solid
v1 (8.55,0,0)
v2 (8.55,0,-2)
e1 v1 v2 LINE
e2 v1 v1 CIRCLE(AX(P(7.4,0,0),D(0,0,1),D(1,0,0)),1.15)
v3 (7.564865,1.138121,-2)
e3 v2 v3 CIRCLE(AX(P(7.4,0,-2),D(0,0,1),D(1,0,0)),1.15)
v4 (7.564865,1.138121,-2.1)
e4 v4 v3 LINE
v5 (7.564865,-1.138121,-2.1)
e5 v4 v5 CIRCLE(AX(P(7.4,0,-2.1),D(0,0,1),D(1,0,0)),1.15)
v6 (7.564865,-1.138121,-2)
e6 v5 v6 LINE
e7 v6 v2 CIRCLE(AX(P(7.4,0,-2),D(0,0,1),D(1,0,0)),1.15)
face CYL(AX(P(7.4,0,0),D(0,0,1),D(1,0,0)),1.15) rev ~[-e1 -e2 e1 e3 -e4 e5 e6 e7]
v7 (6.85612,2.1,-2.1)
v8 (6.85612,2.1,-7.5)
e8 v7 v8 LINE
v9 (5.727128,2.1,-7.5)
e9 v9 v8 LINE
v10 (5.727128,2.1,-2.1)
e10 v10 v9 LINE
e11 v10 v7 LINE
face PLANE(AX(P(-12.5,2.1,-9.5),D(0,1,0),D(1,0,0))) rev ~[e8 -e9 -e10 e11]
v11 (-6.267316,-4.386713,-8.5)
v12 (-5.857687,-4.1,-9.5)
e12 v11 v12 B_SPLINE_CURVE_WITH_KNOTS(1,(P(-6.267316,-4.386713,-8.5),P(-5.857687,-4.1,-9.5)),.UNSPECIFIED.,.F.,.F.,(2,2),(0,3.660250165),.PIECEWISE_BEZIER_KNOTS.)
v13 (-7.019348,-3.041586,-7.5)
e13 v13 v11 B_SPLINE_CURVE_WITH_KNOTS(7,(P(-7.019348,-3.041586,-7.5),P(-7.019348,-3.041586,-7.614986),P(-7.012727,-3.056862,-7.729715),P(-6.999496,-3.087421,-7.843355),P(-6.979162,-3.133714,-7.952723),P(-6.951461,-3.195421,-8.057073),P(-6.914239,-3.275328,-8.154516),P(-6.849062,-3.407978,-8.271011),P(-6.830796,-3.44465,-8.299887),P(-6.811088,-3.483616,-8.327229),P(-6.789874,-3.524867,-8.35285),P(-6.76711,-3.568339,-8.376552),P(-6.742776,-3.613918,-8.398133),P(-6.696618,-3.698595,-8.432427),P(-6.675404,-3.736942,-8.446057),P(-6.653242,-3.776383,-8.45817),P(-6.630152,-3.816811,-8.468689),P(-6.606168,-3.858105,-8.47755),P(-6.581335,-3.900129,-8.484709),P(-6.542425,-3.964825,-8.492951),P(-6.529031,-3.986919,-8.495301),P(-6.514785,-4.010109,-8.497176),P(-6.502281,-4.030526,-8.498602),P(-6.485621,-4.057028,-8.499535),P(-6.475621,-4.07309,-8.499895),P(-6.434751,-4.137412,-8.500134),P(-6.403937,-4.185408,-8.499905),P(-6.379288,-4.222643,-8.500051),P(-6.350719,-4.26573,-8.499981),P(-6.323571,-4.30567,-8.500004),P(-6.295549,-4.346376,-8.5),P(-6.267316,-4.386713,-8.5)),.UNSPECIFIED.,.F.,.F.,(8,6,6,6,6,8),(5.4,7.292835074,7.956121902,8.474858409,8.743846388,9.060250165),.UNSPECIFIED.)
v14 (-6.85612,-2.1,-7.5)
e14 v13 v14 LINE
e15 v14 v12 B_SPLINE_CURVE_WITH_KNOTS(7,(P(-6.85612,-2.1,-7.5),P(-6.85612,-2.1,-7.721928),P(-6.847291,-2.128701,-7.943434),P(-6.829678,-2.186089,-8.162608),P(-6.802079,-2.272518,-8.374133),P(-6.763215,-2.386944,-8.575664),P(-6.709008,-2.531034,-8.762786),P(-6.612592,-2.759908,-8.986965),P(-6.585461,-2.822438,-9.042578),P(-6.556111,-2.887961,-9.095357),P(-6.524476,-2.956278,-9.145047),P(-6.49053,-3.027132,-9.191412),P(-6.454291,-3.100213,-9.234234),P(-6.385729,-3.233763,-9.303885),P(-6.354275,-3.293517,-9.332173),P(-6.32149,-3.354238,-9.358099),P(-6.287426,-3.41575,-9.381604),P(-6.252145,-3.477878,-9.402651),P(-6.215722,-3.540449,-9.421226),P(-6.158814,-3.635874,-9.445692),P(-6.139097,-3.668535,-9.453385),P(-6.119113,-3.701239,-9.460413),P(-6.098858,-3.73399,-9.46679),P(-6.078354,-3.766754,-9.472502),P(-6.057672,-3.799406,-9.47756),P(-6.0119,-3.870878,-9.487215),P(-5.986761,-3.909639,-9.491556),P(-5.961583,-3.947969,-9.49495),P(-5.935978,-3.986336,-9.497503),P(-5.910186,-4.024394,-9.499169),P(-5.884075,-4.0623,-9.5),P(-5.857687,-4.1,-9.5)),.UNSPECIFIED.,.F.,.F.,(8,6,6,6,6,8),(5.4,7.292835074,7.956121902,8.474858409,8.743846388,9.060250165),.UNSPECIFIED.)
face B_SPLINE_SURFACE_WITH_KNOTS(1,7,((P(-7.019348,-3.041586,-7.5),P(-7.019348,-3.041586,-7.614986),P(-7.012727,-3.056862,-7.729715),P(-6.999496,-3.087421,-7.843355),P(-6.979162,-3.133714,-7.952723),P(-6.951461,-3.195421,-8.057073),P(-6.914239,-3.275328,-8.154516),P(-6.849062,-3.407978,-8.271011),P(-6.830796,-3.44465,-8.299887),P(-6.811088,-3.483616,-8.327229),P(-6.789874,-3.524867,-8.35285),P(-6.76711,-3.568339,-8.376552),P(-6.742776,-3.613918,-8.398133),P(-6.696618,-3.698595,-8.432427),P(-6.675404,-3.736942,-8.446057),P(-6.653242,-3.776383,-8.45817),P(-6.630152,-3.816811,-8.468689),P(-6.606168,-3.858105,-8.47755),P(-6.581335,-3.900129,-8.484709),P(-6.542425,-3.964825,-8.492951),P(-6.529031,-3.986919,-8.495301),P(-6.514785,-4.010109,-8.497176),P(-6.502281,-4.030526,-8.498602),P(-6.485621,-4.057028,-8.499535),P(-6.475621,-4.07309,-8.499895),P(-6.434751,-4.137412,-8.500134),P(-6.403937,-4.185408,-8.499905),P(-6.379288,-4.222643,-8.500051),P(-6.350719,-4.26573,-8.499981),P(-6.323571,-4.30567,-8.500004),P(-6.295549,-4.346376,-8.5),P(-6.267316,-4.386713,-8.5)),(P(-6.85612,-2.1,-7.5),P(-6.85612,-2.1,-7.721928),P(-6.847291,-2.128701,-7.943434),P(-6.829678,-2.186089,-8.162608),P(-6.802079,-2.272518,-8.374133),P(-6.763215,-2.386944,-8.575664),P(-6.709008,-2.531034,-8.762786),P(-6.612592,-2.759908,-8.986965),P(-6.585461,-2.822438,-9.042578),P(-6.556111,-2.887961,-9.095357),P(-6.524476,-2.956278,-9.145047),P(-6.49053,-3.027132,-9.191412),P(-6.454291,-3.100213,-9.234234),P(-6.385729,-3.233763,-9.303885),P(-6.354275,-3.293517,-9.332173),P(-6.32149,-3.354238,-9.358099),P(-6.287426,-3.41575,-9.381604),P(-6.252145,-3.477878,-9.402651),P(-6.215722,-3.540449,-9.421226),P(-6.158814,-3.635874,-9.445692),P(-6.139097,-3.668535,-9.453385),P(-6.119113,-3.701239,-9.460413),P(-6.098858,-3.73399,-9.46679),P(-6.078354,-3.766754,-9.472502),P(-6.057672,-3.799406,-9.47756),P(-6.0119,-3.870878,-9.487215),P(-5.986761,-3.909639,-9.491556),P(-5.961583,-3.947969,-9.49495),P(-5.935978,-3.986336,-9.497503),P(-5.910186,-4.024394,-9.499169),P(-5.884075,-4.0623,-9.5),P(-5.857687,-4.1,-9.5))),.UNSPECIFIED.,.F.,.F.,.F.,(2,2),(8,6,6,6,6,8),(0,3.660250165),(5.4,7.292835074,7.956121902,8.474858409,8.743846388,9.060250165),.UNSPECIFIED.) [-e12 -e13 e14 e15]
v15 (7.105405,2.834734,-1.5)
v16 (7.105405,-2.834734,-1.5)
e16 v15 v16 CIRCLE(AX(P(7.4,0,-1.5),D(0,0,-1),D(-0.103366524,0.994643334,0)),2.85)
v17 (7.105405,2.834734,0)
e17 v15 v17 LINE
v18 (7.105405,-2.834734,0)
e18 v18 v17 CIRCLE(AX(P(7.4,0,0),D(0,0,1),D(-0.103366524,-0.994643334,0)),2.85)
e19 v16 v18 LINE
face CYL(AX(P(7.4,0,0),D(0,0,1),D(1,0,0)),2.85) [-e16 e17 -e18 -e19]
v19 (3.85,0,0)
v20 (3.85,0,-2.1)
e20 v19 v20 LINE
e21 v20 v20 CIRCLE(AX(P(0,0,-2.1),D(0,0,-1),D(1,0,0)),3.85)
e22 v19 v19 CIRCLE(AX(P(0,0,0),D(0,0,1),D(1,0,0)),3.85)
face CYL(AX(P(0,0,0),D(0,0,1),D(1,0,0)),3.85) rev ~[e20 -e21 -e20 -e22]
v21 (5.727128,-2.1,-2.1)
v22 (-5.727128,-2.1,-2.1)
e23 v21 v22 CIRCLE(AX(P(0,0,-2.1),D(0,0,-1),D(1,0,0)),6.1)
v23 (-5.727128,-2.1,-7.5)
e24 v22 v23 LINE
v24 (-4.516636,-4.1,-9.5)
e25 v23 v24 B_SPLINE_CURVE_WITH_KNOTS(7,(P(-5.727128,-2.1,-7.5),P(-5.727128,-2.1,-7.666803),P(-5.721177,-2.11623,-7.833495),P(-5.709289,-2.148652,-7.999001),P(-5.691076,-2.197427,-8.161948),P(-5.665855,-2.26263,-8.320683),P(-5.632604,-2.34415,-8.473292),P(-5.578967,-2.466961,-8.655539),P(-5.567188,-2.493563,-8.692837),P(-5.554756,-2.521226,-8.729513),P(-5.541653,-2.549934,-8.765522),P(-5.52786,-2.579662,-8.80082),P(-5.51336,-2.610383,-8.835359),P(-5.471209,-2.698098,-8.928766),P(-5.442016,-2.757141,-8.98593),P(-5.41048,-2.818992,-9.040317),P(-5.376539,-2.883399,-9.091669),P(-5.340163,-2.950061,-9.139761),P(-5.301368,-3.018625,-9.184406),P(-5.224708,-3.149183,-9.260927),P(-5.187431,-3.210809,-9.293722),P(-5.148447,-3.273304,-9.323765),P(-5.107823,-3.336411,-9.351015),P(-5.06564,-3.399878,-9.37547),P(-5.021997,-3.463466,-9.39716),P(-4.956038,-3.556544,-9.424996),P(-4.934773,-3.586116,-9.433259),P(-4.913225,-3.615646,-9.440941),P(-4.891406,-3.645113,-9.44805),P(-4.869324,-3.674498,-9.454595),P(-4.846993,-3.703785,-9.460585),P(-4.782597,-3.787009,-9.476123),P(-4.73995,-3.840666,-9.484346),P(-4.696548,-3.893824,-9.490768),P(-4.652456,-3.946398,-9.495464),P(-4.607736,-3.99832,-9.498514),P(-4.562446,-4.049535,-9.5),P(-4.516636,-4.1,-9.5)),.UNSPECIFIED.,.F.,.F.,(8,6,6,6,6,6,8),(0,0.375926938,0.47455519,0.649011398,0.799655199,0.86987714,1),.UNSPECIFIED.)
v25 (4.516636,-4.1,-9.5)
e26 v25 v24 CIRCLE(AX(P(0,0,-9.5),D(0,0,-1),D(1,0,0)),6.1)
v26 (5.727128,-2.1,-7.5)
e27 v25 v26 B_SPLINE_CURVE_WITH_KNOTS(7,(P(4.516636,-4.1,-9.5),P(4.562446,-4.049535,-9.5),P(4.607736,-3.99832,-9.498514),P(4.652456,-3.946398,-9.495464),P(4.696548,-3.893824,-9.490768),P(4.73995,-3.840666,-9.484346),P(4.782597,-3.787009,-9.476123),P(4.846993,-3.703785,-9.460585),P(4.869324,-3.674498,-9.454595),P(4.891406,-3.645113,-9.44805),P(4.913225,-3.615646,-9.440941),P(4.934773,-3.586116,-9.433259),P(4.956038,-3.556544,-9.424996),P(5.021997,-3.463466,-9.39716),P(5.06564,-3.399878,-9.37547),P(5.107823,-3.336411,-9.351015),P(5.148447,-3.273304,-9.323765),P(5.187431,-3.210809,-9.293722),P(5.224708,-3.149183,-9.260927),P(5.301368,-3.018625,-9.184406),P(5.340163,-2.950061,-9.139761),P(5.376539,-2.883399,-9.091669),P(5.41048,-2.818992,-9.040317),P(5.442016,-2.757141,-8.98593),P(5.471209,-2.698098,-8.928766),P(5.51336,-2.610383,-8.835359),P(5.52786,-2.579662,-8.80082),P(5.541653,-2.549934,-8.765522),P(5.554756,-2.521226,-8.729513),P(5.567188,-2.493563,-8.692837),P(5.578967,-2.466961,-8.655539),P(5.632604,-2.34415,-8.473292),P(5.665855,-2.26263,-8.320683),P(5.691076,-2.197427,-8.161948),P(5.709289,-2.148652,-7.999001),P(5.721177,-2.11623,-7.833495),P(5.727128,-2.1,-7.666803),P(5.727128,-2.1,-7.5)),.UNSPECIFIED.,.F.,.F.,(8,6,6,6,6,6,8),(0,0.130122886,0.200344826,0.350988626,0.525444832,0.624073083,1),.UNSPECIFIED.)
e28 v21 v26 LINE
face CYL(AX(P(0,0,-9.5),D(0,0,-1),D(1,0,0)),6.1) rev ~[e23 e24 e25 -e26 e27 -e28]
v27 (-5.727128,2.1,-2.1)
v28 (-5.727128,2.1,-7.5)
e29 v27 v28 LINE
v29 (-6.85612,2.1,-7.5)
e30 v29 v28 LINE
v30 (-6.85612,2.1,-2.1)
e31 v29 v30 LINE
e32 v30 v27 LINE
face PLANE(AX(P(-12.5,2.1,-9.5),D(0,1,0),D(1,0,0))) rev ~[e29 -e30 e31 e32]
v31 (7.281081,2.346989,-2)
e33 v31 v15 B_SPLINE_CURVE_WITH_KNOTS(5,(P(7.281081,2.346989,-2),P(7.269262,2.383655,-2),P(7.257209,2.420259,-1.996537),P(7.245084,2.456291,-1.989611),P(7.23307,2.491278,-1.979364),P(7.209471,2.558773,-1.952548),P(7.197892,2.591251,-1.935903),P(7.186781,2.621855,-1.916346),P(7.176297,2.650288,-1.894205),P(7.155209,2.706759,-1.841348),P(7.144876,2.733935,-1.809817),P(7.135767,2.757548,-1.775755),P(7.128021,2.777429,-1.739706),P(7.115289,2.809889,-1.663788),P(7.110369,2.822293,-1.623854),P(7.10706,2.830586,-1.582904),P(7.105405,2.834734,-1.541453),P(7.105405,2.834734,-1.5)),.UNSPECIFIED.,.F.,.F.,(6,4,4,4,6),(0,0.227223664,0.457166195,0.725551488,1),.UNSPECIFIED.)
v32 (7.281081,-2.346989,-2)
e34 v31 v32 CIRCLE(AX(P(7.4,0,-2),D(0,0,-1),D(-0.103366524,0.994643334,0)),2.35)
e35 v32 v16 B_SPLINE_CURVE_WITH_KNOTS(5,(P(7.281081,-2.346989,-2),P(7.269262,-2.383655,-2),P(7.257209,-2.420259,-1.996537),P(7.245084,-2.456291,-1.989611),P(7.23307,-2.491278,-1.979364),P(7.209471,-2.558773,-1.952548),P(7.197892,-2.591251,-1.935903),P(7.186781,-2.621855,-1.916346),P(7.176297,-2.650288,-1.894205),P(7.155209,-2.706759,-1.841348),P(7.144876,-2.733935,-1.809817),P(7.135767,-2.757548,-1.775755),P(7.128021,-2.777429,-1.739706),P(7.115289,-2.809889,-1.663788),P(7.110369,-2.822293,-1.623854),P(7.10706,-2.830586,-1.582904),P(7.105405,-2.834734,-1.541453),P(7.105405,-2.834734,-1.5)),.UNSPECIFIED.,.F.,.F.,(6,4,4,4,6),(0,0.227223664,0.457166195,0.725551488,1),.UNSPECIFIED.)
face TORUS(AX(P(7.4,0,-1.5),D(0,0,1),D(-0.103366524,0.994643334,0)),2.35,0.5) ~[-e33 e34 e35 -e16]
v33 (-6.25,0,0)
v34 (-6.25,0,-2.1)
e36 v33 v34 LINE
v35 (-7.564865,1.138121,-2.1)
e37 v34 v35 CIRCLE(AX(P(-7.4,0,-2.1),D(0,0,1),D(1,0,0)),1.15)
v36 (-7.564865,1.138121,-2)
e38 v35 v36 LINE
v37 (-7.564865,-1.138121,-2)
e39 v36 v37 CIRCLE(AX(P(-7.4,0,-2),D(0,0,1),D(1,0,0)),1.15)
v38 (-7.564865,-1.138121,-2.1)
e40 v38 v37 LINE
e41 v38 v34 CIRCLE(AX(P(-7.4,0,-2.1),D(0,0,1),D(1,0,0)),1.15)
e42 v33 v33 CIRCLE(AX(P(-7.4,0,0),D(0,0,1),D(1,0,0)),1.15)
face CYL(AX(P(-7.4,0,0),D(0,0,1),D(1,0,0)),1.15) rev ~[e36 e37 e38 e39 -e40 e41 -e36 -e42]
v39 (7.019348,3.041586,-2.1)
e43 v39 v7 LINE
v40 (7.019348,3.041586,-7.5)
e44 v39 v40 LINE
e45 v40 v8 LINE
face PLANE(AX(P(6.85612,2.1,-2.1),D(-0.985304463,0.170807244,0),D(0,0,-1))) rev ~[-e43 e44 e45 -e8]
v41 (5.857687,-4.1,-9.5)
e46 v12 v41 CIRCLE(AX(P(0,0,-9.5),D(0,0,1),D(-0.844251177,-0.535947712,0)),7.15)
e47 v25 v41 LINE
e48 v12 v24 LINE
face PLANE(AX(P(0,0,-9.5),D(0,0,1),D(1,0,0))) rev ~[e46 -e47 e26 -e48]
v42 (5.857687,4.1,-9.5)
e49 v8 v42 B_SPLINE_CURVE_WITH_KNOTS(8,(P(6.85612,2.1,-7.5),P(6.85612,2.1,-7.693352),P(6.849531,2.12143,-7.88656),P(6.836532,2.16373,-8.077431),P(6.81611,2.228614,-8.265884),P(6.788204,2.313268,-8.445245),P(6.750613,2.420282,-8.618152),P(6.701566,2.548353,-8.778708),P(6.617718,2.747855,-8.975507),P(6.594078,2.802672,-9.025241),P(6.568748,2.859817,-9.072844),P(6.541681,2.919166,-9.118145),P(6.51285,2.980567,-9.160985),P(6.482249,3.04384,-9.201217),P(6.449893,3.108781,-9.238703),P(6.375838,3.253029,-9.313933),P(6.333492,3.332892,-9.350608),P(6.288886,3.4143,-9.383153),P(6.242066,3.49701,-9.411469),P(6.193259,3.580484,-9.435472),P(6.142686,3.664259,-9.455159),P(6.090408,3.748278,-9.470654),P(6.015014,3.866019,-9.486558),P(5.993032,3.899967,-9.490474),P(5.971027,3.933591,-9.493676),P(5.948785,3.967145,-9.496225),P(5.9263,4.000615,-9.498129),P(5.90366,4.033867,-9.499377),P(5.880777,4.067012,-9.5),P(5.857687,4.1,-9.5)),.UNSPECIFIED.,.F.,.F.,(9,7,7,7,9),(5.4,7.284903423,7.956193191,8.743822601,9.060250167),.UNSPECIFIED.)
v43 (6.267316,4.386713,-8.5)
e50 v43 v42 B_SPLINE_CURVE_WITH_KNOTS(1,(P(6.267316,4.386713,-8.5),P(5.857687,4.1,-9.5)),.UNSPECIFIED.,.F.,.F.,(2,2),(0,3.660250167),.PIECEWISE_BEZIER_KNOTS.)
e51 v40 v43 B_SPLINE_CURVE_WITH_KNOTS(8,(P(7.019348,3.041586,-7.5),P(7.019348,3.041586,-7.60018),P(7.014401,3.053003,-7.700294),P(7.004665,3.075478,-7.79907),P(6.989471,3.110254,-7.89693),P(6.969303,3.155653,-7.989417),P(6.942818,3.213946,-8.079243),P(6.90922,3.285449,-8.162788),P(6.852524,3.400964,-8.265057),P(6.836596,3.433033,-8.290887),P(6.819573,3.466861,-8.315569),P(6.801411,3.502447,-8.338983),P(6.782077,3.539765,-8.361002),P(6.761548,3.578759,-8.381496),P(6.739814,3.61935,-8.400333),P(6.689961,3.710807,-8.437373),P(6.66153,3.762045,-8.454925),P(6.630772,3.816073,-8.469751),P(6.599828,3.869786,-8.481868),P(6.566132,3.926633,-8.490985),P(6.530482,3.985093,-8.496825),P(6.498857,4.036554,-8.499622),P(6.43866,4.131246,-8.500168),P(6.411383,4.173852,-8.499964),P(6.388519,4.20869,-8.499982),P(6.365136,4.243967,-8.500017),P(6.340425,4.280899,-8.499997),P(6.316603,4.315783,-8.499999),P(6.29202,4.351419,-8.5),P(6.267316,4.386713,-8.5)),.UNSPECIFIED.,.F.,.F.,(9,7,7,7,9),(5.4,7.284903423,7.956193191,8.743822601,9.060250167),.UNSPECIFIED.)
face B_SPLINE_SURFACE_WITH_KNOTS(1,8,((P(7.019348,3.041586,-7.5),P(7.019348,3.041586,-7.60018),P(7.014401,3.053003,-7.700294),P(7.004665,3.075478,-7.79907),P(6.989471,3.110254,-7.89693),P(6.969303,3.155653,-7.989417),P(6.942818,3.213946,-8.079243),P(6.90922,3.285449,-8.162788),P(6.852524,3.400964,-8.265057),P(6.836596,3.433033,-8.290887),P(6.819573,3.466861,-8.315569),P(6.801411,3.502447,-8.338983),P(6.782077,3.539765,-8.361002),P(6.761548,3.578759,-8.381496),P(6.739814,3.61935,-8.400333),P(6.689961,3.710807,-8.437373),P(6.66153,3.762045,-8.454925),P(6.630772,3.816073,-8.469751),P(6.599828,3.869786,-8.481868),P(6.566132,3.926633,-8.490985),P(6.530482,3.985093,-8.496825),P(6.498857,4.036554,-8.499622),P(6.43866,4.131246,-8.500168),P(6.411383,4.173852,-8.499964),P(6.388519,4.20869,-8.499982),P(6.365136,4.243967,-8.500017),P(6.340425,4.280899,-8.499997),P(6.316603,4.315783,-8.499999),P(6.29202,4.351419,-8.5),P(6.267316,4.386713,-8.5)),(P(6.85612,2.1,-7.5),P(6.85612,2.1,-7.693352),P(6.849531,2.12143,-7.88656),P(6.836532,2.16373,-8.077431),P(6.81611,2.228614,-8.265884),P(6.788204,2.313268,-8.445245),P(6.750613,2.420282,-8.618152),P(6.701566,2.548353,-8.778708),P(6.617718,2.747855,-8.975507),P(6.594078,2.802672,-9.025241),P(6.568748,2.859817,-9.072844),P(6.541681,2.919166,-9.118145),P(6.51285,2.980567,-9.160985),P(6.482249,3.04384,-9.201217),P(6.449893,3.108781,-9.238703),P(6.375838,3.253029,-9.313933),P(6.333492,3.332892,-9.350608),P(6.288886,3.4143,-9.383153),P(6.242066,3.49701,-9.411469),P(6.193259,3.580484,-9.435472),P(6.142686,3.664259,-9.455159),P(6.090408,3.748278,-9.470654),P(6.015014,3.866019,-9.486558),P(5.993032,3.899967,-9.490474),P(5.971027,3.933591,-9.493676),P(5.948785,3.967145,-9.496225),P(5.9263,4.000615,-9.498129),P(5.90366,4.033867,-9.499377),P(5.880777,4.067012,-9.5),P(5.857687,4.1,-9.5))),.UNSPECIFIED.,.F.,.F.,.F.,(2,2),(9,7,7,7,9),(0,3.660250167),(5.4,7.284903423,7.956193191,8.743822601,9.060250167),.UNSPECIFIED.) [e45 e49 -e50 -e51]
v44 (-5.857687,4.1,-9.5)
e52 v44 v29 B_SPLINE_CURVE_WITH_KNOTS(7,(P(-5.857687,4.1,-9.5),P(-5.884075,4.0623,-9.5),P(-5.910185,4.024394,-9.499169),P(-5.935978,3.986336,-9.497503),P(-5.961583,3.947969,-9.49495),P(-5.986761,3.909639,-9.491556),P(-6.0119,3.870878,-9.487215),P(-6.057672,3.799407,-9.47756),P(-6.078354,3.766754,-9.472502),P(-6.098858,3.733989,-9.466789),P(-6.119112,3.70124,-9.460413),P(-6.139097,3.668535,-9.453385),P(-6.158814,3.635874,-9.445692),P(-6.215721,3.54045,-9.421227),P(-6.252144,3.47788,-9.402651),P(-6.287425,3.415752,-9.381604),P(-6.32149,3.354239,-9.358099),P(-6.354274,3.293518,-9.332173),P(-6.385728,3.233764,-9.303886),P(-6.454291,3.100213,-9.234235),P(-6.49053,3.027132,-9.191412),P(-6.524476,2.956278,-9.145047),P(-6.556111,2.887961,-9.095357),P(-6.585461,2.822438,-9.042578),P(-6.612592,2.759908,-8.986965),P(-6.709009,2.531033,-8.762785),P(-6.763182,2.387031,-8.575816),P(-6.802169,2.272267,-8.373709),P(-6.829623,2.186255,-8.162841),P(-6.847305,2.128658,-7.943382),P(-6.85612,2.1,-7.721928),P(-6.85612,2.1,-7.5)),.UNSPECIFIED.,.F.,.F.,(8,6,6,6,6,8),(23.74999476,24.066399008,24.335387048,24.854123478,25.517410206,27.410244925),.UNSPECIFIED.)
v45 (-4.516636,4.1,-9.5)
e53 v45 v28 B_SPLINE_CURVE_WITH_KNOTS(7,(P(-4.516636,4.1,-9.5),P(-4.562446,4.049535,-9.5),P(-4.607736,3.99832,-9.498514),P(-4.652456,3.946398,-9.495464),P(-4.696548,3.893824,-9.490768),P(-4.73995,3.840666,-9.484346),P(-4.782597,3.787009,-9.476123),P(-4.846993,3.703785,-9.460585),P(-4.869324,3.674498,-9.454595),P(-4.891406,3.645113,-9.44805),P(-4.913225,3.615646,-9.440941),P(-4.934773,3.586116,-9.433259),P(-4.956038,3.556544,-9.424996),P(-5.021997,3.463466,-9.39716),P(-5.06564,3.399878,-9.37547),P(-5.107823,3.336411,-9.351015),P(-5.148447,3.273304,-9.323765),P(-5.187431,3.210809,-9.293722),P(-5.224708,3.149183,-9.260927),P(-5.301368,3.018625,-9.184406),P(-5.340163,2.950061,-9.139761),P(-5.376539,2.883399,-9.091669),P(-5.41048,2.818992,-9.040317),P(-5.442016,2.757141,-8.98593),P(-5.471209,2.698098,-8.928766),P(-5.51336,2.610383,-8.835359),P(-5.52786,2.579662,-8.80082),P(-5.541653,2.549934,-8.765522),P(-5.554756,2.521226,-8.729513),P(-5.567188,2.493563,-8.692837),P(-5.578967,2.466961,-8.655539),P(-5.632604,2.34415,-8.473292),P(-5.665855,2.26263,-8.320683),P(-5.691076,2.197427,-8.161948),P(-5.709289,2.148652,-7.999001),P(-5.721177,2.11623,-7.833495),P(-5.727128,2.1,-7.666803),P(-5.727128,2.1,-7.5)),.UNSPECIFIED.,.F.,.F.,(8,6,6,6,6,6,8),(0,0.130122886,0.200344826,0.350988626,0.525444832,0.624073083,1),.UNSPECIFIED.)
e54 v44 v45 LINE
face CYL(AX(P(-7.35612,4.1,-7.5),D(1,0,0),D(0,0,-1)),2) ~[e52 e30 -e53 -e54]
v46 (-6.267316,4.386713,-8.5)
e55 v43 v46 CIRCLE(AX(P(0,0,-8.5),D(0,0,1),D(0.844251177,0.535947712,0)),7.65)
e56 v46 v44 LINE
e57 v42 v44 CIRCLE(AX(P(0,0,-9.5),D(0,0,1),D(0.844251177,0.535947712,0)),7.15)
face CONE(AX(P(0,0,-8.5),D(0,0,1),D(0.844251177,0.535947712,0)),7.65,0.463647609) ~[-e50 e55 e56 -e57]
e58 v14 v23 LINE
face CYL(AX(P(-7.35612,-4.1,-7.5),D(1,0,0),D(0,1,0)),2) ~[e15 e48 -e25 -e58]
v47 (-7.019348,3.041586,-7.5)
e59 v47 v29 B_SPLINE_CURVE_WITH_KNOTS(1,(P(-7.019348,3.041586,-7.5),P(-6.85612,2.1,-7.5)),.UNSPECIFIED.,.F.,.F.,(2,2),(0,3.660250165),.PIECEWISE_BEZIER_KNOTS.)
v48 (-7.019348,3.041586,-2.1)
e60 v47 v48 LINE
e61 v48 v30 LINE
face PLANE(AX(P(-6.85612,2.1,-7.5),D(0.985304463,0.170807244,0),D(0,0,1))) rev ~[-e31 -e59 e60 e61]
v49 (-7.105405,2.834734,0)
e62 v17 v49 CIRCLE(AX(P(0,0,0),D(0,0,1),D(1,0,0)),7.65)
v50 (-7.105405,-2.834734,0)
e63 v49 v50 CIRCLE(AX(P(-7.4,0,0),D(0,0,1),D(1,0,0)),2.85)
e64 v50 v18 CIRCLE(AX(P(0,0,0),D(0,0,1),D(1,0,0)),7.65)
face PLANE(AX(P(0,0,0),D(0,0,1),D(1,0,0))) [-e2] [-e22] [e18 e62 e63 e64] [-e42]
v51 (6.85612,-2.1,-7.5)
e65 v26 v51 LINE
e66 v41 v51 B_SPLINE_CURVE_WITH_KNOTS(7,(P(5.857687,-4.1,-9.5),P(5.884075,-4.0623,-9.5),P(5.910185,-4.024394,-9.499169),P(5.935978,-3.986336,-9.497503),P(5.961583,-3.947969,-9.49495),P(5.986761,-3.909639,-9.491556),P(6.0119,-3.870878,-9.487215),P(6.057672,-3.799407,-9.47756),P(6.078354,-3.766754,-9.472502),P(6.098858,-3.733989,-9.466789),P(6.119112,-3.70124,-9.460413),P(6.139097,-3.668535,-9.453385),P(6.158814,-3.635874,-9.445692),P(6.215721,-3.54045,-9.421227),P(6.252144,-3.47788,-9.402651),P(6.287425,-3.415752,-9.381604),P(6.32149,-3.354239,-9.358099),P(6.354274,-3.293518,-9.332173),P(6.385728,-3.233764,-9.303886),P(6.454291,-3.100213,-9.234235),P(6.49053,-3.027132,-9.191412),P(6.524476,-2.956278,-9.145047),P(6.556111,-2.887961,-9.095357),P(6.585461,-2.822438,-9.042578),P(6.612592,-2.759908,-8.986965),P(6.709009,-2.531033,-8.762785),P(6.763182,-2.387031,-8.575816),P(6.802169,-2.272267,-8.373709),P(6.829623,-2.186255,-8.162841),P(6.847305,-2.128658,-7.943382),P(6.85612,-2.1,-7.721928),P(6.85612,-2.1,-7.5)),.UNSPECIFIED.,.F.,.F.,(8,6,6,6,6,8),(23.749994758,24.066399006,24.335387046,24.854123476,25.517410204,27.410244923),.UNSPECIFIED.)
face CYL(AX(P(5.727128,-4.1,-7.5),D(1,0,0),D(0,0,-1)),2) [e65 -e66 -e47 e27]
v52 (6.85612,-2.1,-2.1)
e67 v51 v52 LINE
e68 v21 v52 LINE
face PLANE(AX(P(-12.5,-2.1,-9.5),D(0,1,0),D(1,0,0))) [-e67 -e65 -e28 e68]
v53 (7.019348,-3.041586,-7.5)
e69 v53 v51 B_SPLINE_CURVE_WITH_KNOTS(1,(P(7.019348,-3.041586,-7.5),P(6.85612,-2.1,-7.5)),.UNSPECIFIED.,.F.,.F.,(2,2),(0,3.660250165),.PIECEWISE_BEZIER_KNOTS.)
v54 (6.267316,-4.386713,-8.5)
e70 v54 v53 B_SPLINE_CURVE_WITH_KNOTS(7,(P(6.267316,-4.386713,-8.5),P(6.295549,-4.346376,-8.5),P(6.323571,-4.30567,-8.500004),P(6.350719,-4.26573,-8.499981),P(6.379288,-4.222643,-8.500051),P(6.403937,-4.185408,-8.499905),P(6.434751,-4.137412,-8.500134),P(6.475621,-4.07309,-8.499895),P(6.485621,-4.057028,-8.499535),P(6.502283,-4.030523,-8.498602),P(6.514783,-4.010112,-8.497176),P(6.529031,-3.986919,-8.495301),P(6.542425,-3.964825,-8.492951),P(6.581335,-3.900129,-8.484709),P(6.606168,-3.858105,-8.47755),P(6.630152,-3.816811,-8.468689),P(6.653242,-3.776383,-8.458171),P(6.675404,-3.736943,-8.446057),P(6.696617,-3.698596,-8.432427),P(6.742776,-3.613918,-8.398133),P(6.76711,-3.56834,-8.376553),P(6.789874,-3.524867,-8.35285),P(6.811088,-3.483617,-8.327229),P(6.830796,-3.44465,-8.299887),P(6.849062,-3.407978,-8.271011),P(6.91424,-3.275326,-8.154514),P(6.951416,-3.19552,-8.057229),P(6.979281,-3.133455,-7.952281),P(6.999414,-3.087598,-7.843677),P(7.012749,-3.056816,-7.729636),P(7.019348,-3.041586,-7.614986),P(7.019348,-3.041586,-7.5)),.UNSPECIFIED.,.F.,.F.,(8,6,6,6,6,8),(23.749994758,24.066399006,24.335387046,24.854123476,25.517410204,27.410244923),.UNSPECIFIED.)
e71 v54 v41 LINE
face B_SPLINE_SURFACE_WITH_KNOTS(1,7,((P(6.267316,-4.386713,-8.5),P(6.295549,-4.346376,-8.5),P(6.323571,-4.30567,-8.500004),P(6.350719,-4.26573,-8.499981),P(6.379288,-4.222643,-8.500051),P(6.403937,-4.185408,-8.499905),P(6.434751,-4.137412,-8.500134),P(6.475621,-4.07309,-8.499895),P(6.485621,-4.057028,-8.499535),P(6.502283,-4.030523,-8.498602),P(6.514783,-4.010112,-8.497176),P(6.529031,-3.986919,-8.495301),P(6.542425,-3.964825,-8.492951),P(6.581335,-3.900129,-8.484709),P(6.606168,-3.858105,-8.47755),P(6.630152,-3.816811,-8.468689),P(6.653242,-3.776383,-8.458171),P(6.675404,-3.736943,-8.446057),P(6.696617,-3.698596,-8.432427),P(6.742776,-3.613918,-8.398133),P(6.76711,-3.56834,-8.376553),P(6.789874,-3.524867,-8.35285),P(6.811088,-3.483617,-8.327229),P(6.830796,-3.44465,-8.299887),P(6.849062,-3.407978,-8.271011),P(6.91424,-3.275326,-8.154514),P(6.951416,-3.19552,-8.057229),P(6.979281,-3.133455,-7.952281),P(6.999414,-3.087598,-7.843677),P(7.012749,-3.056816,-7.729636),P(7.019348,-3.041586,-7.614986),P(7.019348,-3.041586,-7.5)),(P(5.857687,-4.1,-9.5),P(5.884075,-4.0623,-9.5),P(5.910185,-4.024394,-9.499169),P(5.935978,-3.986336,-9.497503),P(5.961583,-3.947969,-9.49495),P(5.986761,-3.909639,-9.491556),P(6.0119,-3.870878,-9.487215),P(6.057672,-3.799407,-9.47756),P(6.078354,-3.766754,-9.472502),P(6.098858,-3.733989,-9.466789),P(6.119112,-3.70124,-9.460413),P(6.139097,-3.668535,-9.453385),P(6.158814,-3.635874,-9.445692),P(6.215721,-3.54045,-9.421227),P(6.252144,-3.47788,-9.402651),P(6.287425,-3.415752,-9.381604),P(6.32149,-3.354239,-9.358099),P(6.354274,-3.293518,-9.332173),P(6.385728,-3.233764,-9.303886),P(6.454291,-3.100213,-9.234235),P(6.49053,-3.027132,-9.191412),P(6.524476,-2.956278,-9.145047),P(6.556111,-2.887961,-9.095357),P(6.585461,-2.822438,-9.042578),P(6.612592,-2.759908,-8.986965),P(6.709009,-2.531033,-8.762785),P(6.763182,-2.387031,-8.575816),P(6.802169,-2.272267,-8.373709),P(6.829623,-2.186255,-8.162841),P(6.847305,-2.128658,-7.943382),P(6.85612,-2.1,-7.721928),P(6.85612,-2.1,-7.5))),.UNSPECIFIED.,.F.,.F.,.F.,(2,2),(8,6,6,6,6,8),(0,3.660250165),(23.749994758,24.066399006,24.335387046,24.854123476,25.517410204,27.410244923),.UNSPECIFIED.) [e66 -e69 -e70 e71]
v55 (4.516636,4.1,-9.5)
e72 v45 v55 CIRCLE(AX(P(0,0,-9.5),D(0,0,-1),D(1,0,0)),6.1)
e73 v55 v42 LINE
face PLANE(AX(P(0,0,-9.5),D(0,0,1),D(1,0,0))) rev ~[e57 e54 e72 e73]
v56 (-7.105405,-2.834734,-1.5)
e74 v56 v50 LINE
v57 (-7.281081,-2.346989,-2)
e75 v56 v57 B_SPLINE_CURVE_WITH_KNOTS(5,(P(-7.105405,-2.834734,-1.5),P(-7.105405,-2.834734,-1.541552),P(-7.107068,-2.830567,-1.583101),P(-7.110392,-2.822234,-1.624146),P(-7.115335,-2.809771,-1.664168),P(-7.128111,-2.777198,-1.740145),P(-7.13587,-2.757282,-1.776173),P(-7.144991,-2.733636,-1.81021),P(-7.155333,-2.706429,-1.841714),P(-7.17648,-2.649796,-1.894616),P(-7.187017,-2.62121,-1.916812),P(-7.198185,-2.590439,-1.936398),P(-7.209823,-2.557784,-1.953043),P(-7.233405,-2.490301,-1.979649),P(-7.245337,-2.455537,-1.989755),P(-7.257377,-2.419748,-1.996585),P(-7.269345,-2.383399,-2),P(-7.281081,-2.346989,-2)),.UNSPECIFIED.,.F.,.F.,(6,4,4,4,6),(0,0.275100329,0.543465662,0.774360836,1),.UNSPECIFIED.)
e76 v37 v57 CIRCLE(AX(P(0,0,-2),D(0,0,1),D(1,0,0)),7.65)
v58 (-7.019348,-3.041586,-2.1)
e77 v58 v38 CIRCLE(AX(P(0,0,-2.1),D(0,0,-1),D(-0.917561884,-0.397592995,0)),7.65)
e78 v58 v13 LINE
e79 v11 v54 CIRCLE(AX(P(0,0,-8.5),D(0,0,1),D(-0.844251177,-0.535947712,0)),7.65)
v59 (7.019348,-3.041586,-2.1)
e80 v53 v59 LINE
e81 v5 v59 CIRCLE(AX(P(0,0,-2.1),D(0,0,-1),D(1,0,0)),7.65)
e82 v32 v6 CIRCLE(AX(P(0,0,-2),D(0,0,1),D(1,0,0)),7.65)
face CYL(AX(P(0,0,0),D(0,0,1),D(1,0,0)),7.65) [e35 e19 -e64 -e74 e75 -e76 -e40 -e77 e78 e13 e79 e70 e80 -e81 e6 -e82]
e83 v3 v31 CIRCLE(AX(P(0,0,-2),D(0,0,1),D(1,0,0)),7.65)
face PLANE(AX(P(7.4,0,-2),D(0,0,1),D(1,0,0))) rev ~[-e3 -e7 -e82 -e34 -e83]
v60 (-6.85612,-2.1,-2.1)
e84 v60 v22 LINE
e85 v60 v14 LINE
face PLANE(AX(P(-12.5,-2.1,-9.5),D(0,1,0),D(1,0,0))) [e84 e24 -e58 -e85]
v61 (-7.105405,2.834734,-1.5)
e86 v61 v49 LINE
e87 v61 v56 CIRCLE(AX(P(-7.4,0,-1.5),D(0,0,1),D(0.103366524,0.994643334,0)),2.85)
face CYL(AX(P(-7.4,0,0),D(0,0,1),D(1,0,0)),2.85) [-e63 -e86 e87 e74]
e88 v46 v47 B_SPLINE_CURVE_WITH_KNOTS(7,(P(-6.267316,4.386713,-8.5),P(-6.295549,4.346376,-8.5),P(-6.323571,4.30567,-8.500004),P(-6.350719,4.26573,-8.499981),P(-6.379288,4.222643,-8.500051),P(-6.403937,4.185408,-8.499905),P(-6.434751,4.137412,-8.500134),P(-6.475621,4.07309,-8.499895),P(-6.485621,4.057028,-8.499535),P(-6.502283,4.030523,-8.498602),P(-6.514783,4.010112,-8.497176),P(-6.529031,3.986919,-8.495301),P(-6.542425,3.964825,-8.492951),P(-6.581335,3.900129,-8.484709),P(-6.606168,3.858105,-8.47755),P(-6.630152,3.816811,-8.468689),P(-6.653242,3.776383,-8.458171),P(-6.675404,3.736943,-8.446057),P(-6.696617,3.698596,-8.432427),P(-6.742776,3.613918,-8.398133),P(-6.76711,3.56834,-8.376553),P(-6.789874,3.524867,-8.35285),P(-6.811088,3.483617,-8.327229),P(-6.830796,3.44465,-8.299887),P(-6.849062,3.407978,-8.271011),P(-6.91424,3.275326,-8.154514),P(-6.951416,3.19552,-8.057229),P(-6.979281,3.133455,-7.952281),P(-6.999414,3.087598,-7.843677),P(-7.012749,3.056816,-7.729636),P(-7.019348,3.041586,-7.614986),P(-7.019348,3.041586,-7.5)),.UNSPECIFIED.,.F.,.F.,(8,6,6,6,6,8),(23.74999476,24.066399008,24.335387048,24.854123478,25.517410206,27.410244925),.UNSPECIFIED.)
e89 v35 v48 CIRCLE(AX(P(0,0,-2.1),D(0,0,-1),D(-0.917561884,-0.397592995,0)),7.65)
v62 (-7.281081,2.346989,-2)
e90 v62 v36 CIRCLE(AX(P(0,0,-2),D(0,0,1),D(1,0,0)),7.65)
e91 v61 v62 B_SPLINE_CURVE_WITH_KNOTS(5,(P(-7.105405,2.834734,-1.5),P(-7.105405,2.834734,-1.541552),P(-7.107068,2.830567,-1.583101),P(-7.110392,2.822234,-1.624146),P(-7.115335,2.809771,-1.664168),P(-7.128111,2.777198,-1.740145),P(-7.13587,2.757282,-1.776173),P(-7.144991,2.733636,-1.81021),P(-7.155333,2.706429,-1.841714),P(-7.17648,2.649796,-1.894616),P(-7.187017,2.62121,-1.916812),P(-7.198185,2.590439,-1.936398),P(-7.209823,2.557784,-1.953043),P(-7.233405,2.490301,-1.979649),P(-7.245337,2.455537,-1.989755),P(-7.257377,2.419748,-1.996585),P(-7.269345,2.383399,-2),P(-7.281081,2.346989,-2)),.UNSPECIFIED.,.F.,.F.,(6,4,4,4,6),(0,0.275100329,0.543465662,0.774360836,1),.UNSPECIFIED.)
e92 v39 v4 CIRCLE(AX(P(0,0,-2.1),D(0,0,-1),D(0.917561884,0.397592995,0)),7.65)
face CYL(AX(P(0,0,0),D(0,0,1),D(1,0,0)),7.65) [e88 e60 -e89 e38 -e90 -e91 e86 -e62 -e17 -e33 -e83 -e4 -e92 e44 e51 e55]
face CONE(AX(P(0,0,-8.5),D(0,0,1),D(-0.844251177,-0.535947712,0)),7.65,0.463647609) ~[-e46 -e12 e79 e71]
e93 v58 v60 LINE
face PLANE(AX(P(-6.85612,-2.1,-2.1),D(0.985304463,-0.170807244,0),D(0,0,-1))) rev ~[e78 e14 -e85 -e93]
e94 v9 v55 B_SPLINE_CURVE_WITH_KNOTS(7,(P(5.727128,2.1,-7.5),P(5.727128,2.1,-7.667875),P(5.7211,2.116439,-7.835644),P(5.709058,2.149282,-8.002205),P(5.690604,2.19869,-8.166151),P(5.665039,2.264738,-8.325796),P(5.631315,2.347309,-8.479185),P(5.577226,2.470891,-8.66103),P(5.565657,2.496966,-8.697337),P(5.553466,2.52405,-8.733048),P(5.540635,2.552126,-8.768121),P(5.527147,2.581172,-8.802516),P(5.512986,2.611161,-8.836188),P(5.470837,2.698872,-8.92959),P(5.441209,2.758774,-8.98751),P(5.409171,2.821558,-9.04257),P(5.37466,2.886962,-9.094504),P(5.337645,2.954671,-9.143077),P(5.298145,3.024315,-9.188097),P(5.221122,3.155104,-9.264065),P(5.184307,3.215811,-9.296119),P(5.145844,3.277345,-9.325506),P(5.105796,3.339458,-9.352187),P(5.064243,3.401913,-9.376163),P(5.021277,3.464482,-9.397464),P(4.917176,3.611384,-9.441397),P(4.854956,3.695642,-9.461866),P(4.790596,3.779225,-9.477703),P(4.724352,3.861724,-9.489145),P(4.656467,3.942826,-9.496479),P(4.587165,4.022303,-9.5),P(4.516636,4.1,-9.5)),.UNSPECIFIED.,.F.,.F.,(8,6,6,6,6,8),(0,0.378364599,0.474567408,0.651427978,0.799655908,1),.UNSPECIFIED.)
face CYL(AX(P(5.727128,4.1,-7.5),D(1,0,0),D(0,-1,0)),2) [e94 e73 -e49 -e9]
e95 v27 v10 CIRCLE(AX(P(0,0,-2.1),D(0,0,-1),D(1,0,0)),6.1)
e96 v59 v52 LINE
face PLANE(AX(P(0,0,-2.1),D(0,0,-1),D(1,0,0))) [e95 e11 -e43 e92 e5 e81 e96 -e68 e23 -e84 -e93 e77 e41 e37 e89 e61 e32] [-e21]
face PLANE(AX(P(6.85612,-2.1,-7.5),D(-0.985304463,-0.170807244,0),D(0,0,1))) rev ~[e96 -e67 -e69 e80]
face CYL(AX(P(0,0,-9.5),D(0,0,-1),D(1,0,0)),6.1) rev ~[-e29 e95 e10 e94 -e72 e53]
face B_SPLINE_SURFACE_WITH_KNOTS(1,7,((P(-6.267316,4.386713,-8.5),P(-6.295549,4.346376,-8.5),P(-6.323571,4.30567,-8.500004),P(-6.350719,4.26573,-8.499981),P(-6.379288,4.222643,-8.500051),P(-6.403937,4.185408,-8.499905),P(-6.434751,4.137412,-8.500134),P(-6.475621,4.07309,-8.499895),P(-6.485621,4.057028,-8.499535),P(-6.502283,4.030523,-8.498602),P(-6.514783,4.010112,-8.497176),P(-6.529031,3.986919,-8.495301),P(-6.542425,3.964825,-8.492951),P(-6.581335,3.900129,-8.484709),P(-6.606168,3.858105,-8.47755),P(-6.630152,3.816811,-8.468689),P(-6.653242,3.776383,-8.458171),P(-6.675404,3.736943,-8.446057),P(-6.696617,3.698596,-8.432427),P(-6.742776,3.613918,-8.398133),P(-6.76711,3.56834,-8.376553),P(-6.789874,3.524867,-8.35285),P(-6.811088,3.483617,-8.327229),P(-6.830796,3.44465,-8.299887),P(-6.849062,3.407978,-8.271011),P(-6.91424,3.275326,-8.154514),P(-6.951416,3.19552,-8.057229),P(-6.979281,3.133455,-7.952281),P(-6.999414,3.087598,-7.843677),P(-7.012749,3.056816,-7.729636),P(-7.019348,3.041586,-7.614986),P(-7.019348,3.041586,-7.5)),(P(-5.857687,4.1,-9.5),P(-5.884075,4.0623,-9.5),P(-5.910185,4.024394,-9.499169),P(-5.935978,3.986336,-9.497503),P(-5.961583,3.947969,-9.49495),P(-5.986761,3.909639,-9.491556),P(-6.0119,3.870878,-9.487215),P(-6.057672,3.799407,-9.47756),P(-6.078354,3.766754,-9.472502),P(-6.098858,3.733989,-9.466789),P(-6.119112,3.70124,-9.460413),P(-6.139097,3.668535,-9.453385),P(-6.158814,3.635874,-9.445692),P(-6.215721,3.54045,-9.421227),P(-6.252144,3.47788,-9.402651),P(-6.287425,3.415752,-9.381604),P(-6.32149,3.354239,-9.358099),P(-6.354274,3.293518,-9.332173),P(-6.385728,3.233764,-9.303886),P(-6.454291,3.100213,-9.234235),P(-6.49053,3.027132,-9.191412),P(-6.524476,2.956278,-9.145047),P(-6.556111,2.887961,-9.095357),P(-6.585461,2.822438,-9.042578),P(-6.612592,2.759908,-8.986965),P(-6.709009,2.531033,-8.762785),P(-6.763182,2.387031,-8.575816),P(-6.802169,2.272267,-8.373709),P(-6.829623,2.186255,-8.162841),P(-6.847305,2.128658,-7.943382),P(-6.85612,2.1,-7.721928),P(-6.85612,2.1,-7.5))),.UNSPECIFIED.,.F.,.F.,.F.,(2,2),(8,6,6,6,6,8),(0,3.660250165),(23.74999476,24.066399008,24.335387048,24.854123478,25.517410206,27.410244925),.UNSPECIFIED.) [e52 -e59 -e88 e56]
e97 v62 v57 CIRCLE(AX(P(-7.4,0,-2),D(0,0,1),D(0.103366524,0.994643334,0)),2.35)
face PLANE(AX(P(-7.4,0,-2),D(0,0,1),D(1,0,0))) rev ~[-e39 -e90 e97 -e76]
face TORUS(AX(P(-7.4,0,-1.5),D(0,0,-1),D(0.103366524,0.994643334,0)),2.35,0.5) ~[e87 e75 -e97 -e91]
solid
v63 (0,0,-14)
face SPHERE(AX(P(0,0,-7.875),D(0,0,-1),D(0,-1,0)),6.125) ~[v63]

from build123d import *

# Parameters (mm, degrees)
SKETCH_R        = 7.65
PAD_DEPTH       = 9.5
SKETCH001_R     = 6.1
POCKET_DEPTH    = 7.4
SKETCH002_R     = 3.85
POCKET001_DEPTH = 5
SKETCH003_R     = 2.85
PAD001_DEPTH    = 2
SKETCH004_W     = 25
SKETCH004_H     = 4.2
POCKET002_DEPTH = 7.4
FILLET_R        = 2
CHAMFER_SIZE2   = 0.5
CHAMFER_SIZE    = 1
SKETCH005_R     = 1.15
POCKET003_DEPTH = 5
FILLET001_R     = 0.5


with BuildPart() as shell:
    # Sketch → Pad (new body)
    with BuildSketch(Plane.XY):
        Circle(SKETCH_R)
    extrude(amount=-PAD_DEPTH)

    # Sketch001 (on Face3 of Pad) → Pocket (cut)
    with BuildSketch(Plane(origin=(0, 0, -9.5), x_dir=(1, 0, 0), z_dir=(0, 0, -1))):
        Circle(SKETCH001_R)
    extrude(amount=-POCKET_DEPTH, mode=Mode.SUBTRACT)

    # Sketch002 (on Face2 of Pocket) → Pocket001 (cut)
    with BuildSketch(Plane.XY):
        Circle(SKETCH002_R)
    extrude(amount=-POCKET001_DEPTH, mode=Mode.SUBTRACT)

    # Sketch003 → Pad001 (join)
    with BuildSketch(Plane.XY):
        with Locations((-7.4, 0)):
            Circle(SKETCH003_R)
        with Locations((7.4, 0)):
            Circle(SKETCH003_R)
    extrude(amount=-PAD001_DEPTH)

    # Sketch004 (on Face12 of Pad001) → Pocket002 (cut)
    with BuildSketch(Plane(origin=(0, 0, -9.5), x_dir=(1, 0, 0), z_dir=(0, 0, -1))):
        Rectangle(SKETCH004_W, SKETCH004_H)
    extrude(amount=-POCKET002_DEPTH, mode=Mode.SUBTRACT)

    # Fillet
    fillet_edges = [shell.edges().sort_by_distance(p)[0] for p in [
        (-6.541624, 2.1, -9.5),
        (-6.541624, -2.1, -9.5),
        (6.541624, 2.1, -9.5),
        (6.541624, -2.1, -9.5),
    ]]
    fillet(fillet_edges, radius=FILLET_R)

    # Chamfer
    chamfer_edges = [shell.edges().sort_by_distance(p)[0] for p in [
        (0, -7.65, -9.5),
        (0, 7.65, -9.5),
    ]]
    chamfer_side = shell.faces().sort_by_distance((7.576174, -1.060232, -2.076369))[0]
    chamfer(chamfer_edges, length=CHAMFER_SIZE, length2=CHAMFER_SIZE2, reference=chamfer_side)

    # Sketch005 (on Face16 of Chamfer) → Pocket003 (cut)
    with BuildSketch(Plane.XY):
        with Locations((-7.4, 0)):
            Circle(SKETCH005_R)
        with Locations((7.4, 0)):
            Circle(SKETCH005_R)
    extrude(amount=-POCKET003_DEPTH, mode=Mode.SUBTRACT)

    # Fillet001
    fillet001_edges = [shell.edges().sort_by_distance(p)[0] for p in [
        (-10.25, 0, -2),
        (9.308259, 2.116848, -2),
        (9.308259, -2.116848, -2),
    ]]
    fillet(fillet001_edges, radius=FILLET001_R)


with BuildPart() as ball:
    # Sketch006 → Revolution (revolve)
    with BuildSketch(Plane.YZ):
        with BuildLine():
            ThreePointArc((0, -1.75), (-6.125, -7.875), (0, -14))
            Line((0, -1.75), (0, -14))
        make_face()
    revolve(axis=Axis((0, 0, 0), (0, 0, 1)))


solid = Compound([shell.part, ball.part])
